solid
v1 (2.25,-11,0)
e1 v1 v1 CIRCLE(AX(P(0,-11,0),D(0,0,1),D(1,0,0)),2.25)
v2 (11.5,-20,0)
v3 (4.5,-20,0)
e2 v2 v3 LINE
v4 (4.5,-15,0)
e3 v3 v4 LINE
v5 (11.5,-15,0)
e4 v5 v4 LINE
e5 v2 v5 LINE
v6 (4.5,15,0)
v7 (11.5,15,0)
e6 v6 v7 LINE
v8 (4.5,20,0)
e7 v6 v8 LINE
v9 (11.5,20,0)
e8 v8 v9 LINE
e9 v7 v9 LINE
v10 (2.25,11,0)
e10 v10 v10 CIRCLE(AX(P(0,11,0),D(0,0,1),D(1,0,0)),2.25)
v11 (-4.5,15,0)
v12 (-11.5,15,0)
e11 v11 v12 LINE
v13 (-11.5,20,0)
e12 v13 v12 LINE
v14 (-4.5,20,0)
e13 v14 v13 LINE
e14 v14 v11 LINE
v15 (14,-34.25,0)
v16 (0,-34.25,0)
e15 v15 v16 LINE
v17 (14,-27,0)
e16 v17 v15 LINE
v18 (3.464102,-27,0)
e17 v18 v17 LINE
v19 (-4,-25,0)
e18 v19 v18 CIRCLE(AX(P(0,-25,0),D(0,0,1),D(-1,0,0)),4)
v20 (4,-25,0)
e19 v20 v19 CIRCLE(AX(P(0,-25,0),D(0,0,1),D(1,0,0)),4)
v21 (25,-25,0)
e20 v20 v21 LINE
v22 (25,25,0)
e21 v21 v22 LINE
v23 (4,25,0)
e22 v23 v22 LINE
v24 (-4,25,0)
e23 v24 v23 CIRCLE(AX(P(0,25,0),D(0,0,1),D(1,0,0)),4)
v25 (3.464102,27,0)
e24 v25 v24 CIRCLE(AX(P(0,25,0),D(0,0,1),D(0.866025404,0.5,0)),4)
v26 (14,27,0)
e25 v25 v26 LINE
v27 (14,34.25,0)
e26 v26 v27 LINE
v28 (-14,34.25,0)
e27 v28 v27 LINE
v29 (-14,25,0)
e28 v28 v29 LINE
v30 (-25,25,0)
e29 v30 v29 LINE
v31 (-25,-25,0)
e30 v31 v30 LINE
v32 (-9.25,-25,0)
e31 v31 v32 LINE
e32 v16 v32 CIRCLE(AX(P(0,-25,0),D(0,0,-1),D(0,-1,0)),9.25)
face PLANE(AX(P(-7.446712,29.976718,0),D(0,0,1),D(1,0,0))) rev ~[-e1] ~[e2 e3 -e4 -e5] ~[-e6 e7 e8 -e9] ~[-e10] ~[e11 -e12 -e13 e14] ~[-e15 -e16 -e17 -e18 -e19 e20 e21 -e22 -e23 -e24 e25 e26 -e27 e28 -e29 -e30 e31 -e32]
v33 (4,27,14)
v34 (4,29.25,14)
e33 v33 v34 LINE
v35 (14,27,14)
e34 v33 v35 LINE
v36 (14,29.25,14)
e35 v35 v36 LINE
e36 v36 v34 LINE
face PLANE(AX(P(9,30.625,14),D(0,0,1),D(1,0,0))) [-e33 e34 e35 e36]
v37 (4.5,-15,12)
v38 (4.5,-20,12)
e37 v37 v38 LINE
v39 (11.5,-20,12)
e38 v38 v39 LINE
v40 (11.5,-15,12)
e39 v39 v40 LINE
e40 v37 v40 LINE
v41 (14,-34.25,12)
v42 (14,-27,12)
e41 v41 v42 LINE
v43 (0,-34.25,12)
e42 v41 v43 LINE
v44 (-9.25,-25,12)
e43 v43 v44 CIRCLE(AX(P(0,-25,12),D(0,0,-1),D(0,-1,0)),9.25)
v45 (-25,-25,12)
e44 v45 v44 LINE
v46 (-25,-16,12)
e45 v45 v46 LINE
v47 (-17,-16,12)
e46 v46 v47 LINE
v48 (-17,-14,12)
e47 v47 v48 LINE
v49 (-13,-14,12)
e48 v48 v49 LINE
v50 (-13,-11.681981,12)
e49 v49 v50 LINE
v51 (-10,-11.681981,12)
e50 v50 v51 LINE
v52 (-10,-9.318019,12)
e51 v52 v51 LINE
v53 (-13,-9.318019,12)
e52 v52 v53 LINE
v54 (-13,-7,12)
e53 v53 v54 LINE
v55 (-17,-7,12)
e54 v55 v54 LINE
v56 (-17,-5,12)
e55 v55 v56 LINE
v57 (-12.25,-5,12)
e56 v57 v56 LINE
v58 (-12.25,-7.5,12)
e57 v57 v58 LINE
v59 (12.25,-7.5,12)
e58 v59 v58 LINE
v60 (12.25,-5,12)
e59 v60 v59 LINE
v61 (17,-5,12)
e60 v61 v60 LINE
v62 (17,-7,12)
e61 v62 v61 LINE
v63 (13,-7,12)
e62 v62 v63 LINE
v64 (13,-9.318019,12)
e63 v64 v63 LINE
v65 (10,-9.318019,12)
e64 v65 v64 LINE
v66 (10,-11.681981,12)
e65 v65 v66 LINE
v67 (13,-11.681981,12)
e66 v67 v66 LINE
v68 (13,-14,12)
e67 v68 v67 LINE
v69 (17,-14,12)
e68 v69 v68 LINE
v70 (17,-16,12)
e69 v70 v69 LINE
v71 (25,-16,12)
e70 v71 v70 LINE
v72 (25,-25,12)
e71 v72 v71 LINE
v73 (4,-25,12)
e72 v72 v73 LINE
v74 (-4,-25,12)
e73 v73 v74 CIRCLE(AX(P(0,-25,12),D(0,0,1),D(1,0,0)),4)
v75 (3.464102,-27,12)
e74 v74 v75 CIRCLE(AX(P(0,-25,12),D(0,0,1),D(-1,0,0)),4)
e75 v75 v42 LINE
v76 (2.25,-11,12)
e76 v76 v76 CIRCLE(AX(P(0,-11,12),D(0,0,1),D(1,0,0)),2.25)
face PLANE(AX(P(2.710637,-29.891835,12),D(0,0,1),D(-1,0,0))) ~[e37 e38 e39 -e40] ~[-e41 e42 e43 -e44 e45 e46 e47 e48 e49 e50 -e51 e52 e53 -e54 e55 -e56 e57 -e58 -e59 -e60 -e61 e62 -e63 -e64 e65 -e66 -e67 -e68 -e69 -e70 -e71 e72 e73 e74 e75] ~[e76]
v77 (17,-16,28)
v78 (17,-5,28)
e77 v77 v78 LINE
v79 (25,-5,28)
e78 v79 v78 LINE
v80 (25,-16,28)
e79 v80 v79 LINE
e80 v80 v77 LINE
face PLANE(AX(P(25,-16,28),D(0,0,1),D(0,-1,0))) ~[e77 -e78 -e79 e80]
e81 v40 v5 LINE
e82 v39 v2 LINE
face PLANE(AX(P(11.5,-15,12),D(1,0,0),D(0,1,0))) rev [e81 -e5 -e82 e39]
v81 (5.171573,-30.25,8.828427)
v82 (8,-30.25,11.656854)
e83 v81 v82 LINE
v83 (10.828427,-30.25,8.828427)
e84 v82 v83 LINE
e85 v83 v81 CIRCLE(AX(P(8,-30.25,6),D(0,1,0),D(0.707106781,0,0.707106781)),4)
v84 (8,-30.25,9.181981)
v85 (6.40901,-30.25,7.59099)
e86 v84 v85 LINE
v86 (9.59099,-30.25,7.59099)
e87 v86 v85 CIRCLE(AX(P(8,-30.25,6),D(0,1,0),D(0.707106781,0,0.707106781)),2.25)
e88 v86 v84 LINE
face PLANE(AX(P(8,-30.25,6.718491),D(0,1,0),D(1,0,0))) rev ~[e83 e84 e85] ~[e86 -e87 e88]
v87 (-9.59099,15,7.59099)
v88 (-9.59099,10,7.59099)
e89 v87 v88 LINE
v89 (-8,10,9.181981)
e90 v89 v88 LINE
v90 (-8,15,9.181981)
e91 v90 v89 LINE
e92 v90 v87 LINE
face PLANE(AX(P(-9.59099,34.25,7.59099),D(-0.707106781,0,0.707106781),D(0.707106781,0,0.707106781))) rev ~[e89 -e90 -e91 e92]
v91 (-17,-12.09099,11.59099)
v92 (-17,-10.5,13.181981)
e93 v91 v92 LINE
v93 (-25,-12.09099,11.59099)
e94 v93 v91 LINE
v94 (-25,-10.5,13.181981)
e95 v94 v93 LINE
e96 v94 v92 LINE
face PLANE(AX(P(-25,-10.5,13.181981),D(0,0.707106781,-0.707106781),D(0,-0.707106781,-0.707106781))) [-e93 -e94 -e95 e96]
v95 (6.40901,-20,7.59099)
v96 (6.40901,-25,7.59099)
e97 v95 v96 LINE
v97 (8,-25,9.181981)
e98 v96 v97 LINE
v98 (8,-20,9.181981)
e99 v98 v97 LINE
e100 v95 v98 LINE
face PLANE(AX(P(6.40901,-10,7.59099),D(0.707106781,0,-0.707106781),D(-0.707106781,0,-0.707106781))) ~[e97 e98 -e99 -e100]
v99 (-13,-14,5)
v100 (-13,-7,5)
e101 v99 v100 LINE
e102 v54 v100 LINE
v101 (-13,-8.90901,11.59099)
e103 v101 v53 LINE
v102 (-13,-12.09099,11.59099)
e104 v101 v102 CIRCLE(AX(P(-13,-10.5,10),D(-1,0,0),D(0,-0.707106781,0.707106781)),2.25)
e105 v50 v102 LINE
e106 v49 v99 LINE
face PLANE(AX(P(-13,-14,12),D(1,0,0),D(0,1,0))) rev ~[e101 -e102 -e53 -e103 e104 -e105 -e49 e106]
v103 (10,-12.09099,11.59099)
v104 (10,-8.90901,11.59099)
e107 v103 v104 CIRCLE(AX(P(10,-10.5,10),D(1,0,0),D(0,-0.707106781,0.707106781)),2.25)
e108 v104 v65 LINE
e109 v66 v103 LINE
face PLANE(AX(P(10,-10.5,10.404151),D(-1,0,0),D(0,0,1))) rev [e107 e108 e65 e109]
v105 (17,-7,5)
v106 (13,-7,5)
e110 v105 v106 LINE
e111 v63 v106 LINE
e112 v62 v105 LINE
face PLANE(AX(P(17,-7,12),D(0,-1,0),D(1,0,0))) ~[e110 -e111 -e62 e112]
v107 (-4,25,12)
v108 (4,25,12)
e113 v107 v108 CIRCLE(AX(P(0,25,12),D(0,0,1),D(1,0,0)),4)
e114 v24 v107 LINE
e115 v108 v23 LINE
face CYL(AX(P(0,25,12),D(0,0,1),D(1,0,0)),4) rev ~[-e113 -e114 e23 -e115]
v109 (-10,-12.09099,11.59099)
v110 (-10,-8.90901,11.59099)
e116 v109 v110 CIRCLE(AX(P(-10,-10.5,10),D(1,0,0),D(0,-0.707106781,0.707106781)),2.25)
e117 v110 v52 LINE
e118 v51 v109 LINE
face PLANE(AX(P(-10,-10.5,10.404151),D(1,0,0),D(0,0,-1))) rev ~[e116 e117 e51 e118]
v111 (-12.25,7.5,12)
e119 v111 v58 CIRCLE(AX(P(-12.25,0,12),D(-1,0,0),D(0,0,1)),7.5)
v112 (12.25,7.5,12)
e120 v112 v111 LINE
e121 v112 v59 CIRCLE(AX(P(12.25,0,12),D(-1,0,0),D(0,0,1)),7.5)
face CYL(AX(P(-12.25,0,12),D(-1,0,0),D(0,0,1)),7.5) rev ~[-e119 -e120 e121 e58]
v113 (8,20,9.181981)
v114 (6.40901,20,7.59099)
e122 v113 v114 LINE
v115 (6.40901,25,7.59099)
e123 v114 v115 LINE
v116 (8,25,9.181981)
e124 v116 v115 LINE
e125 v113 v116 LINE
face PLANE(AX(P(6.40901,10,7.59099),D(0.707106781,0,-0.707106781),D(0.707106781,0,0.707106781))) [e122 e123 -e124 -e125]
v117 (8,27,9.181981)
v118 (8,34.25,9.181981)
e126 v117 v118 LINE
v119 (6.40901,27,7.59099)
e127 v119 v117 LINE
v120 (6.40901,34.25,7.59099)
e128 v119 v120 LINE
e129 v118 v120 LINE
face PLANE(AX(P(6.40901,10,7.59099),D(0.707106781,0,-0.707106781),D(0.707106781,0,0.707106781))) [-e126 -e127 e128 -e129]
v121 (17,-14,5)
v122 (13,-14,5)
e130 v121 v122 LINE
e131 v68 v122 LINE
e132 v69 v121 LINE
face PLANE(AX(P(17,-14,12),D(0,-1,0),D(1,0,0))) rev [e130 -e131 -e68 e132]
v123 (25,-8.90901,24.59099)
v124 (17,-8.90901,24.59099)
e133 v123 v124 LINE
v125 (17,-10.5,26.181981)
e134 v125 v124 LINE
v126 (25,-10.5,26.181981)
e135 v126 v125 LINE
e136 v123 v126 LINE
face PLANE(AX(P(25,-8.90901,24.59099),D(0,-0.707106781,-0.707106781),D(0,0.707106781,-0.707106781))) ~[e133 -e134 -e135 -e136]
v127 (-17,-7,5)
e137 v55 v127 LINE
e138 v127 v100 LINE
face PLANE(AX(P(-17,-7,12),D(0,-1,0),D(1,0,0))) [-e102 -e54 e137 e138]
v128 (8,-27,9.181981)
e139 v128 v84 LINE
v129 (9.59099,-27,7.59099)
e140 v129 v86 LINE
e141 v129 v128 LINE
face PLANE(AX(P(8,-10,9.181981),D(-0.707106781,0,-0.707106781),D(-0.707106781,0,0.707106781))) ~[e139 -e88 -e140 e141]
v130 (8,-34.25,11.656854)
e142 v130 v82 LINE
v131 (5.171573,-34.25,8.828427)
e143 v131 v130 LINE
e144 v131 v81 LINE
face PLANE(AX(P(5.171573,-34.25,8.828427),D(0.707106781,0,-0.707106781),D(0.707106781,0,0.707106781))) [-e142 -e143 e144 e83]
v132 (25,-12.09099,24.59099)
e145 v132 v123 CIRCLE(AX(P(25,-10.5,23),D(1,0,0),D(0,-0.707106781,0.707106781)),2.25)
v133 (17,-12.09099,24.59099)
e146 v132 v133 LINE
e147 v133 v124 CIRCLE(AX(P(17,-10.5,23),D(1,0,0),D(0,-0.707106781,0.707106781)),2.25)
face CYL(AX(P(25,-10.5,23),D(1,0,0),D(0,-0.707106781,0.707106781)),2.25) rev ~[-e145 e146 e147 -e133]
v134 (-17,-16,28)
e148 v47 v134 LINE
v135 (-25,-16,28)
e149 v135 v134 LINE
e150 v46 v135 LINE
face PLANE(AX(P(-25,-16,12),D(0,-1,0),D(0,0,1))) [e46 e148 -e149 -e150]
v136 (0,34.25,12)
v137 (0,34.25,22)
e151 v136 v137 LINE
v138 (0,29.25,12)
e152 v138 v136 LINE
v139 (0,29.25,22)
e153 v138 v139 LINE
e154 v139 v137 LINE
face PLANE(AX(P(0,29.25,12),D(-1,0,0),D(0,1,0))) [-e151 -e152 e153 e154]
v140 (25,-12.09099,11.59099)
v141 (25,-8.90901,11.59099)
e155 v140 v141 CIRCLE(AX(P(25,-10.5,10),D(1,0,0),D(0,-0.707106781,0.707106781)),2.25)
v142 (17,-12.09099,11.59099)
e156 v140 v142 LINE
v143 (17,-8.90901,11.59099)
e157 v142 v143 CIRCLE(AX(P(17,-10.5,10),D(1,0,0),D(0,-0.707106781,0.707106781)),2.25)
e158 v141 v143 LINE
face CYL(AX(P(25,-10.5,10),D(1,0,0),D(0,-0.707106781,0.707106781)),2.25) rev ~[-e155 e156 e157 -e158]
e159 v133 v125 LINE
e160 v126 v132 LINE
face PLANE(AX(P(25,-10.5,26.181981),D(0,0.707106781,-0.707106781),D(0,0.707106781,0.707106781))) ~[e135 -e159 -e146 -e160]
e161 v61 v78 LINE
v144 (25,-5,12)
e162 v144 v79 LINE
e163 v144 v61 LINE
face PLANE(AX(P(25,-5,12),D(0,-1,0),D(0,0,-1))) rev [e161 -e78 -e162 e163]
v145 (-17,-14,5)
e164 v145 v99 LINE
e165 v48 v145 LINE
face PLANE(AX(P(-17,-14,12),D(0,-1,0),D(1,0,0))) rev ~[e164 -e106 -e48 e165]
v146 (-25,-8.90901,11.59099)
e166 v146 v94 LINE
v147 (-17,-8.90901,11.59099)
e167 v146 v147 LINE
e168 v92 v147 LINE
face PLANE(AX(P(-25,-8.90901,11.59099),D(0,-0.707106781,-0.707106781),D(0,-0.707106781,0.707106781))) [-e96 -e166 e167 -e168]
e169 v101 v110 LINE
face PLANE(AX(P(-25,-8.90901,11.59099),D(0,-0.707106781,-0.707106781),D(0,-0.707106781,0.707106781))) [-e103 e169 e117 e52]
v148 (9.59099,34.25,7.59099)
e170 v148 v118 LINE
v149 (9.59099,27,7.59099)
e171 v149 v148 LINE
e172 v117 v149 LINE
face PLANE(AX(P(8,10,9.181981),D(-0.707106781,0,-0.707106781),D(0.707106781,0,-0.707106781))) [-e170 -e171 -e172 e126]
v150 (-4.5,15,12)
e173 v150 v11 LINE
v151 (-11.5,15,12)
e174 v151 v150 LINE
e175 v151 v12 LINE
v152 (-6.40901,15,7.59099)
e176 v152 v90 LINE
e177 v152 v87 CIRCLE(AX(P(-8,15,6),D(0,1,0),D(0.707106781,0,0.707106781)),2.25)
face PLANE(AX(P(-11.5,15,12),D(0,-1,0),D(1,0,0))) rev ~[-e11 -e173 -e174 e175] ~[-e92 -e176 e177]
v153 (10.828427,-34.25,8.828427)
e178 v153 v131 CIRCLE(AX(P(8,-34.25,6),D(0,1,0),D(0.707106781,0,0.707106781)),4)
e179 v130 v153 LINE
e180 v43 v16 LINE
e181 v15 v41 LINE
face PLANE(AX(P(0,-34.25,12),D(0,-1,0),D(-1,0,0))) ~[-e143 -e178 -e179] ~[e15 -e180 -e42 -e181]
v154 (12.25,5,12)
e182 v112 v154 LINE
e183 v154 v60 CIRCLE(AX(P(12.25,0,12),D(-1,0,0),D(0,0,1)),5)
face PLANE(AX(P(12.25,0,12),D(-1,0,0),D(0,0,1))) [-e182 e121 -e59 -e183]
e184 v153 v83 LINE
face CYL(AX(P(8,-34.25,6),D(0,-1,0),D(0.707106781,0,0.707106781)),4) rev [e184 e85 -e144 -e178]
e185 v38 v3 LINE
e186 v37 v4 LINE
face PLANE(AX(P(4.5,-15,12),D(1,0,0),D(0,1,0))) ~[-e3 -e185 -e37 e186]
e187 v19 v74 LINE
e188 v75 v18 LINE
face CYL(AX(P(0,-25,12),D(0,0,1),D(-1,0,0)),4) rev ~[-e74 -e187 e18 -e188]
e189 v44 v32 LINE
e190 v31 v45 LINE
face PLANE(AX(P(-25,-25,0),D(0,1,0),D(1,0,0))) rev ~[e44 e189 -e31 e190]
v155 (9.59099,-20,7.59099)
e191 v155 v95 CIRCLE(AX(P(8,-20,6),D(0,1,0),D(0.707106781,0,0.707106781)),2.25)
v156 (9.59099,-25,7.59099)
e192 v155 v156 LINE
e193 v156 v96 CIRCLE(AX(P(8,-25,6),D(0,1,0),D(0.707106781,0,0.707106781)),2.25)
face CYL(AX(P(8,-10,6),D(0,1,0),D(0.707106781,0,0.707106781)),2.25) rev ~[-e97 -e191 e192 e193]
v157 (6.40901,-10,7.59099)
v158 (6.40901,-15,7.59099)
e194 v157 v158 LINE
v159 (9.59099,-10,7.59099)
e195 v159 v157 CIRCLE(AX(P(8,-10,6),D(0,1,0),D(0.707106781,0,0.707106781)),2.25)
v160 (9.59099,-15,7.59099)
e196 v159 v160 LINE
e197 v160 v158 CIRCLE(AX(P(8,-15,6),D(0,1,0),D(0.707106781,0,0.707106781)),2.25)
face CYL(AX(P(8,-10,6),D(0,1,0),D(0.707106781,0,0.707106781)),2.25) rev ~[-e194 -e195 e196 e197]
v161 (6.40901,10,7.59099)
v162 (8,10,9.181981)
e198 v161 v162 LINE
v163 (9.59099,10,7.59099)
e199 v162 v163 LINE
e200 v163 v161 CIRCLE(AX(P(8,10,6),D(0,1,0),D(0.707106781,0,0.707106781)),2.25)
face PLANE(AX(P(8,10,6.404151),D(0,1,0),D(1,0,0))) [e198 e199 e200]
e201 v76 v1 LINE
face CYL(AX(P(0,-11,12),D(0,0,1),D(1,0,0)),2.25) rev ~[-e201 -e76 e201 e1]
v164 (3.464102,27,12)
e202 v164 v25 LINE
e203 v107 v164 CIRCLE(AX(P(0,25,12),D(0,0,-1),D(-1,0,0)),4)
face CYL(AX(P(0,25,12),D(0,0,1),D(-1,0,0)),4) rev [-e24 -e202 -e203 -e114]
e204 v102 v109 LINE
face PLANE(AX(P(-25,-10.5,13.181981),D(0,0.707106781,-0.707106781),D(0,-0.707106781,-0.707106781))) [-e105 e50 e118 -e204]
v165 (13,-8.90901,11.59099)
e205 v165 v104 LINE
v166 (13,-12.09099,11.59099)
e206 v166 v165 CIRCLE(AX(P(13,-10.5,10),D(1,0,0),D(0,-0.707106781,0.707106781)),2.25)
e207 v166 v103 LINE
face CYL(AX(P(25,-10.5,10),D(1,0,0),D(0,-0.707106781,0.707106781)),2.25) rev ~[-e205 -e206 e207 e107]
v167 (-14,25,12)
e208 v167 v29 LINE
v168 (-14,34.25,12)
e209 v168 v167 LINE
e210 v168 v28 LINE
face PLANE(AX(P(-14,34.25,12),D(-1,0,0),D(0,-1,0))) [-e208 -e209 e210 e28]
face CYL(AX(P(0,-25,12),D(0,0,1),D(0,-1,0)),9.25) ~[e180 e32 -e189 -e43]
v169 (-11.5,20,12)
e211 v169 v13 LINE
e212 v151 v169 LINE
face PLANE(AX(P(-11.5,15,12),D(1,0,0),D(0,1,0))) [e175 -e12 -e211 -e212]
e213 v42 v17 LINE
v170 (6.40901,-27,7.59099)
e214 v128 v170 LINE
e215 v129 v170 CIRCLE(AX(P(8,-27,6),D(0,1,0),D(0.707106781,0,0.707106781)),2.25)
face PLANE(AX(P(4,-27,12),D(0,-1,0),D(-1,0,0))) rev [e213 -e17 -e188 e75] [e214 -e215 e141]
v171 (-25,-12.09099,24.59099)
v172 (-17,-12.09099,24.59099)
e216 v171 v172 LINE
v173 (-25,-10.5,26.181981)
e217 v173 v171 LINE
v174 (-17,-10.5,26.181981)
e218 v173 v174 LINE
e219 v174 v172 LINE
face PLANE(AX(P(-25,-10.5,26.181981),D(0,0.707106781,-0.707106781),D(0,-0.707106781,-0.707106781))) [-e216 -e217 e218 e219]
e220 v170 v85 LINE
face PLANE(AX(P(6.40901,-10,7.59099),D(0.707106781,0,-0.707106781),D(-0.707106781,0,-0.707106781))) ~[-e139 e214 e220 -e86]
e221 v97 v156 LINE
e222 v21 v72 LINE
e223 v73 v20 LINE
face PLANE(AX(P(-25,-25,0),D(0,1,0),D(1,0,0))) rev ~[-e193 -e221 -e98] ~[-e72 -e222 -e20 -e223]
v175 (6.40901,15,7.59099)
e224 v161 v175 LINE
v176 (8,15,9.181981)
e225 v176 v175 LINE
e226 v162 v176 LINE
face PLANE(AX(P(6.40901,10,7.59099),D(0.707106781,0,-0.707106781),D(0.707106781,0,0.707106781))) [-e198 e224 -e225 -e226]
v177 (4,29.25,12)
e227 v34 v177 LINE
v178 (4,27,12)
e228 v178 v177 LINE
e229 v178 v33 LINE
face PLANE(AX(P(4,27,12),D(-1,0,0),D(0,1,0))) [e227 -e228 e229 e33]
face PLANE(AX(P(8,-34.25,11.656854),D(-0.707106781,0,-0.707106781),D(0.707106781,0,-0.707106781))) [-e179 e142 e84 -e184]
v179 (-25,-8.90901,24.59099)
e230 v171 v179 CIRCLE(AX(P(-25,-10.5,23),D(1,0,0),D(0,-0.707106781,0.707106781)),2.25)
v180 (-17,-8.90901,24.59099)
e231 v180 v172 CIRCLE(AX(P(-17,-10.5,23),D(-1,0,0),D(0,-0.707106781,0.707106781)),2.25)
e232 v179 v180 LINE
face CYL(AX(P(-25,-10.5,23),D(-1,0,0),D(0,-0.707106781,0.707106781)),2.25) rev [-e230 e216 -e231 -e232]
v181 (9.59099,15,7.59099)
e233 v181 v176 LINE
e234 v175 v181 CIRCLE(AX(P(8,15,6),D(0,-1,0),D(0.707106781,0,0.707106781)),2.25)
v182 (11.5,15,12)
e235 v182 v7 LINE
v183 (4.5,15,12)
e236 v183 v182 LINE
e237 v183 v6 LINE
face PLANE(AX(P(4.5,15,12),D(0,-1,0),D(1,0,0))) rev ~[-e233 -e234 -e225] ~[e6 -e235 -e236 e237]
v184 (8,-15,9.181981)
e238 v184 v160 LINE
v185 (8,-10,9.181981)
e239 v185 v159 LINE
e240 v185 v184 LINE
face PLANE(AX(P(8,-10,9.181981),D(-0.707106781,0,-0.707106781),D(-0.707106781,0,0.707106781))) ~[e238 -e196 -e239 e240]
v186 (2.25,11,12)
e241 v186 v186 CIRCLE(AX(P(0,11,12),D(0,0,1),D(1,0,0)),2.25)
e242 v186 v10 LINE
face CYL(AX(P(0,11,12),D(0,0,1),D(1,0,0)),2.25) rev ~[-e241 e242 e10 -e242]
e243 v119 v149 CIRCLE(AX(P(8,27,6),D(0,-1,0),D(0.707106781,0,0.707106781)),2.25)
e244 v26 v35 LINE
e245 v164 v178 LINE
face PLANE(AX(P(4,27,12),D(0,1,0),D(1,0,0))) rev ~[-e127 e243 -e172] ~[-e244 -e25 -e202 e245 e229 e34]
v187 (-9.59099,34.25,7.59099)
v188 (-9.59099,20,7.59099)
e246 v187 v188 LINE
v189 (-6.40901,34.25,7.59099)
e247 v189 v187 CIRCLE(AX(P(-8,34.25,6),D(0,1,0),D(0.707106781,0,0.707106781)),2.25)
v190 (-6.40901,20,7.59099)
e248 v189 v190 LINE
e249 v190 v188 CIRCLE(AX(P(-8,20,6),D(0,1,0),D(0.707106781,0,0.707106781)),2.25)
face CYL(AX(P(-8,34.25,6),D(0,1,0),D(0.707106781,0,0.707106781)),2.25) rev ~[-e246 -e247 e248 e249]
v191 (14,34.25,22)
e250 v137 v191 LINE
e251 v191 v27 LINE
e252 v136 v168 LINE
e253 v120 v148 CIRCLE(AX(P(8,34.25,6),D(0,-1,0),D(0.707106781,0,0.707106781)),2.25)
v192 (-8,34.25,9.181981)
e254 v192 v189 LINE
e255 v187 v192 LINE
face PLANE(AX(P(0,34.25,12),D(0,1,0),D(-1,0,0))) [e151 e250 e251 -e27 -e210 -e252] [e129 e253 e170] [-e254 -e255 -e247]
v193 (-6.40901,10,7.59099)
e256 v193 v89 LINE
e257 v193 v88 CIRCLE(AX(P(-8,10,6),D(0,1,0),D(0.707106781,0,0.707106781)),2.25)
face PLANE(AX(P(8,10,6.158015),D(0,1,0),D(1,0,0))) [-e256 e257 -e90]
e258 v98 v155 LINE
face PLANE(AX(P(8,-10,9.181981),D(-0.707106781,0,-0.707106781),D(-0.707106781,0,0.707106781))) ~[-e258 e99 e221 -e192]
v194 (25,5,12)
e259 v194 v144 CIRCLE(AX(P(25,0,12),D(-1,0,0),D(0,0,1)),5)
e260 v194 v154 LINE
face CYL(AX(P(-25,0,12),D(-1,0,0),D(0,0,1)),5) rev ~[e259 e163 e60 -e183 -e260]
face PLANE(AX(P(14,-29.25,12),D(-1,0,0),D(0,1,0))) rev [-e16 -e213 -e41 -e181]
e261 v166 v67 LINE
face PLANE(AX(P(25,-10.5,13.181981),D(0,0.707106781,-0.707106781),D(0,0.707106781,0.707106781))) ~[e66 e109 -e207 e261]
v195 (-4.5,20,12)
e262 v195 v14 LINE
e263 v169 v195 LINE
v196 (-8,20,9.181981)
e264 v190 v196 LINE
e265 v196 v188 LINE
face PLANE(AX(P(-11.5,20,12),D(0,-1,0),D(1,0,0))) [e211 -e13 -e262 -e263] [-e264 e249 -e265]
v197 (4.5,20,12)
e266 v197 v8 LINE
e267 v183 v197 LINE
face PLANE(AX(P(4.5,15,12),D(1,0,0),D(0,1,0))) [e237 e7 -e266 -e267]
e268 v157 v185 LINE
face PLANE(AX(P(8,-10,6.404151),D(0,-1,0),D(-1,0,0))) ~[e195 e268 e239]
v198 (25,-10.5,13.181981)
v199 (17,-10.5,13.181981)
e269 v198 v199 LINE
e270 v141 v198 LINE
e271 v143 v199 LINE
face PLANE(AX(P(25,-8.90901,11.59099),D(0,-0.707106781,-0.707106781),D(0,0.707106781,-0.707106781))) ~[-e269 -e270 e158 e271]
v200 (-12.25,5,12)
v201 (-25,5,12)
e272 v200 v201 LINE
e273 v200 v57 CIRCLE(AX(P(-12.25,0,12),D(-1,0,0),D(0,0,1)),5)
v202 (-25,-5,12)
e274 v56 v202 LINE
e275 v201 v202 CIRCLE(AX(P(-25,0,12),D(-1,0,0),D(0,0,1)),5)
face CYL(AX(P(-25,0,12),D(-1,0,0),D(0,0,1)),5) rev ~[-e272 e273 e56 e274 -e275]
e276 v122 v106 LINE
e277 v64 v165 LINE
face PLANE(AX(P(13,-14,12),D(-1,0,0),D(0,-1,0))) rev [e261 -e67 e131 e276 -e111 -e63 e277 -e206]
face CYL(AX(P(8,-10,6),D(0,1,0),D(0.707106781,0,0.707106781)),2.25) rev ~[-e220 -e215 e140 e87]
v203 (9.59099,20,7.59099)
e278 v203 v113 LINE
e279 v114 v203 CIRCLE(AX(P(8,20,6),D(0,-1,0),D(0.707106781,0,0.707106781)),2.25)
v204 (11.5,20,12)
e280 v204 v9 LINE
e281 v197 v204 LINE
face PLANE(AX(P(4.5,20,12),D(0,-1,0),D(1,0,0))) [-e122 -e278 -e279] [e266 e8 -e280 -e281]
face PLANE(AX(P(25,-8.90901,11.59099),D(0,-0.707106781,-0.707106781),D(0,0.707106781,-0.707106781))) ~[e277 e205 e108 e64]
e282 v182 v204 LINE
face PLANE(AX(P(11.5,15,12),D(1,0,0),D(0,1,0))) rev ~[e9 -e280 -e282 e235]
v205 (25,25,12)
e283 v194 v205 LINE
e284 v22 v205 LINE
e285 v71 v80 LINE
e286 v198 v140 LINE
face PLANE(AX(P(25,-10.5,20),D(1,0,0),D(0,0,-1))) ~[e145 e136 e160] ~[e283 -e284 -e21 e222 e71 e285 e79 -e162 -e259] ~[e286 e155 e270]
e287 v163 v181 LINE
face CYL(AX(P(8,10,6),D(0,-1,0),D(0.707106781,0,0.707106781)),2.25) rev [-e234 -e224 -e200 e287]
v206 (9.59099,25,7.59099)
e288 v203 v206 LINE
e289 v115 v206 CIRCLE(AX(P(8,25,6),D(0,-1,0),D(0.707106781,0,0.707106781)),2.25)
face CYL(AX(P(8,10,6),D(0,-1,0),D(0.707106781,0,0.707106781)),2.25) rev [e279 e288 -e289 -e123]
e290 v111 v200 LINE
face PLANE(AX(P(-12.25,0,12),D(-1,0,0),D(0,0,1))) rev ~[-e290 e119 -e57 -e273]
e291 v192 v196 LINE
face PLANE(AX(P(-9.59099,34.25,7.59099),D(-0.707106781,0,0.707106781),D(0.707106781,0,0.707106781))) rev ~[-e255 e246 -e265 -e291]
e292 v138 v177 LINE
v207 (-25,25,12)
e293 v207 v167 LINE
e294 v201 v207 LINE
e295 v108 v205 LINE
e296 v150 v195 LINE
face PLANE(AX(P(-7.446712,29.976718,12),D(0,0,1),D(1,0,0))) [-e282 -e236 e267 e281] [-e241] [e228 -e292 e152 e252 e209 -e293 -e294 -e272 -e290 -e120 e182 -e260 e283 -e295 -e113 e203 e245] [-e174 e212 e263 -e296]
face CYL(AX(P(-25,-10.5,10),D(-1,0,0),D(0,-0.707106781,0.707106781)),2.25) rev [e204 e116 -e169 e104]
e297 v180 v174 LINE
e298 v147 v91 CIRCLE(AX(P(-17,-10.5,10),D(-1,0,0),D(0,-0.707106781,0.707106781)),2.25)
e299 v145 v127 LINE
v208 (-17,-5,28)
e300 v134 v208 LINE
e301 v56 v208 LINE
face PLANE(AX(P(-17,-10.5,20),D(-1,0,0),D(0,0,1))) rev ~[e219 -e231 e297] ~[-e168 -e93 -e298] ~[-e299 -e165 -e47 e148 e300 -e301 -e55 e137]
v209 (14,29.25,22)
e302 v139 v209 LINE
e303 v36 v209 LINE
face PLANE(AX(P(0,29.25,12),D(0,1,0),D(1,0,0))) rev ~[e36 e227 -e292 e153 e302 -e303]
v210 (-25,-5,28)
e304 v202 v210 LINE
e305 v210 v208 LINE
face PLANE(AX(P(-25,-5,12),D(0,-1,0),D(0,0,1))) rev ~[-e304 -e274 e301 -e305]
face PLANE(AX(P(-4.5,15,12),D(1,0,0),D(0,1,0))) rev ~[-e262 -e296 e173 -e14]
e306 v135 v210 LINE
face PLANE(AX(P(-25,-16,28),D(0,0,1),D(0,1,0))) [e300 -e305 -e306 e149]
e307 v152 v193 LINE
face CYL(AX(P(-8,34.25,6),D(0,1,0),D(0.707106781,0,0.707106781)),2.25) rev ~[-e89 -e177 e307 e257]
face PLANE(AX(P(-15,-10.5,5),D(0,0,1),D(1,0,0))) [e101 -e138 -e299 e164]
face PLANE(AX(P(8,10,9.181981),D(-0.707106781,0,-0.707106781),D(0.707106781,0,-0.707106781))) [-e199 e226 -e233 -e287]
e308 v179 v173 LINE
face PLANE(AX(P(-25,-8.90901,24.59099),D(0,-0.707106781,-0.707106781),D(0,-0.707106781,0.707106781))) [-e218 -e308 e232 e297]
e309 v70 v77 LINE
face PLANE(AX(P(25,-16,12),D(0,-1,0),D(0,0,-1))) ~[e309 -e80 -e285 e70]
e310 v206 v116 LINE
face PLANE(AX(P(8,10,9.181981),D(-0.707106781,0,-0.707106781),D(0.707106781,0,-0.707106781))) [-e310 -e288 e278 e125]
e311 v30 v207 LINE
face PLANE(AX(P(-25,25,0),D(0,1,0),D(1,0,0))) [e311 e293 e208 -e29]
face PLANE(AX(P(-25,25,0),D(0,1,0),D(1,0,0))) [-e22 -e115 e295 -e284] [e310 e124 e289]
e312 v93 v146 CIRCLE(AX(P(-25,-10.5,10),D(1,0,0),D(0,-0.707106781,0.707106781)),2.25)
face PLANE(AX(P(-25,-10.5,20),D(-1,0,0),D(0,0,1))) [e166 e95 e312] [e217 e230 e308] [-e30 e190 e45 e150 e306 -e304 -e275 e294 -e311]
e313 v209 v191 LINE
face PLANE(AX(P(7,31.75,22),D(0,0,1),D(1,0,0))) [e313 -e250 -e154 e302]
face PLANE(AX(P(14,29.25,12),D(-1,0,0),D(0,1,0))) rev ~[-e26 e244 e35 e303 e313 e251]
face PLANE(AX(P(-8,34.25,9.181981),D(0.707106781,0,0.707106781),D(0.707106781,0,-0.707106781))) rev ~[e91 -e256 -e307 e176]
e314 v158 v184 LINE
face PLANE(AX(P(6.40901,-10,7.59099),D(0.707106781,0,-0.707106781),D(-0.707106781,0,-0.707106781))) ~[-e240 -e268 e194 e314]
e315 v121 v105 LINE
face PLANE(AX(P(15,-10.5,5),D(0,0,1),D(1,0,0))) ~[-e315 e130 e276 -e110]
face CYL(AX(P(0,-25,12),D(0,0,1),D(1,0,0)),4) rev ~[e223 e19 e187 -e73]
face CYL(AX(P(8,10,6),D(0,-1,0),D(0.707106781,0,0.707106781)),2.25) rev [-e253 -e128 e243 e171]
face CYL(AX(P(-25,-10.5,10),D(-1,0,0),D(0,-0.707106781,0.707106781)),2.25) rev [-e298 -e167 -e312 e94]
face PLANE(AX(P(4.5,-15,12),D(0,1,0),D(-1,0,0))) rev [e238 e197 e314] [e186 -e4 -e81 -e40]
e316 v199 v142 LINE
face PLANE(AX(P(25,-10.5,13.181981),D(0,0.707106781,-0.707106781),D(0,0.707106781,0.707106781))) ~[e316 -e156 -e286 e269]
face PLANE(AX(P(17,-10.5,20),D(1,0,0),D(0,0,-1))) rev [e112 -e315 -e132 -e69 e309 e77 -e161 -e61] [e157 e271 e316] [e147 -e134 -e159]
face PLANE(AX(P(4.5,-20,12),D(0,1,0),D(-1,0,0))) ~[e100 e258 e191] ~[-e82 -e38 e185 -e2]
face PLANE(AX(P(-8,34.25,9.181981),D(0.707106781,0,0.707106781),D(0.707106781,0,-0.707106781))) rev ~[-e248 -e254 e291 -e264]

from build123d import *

# Parameters (mm, degrees)
SKETCH1_W           = 50
SKETCH1_H           = 50
BOSS_EXTRUDE1_DEPTH = 12
SKETCH2_R           = 5
CUT_EXTRUDE1_DEPTH  = 58.175169436
CUT_EXTRUDE2_START  = -12.75
SKETCH3_R           = 7.5
CUT_EXTRUDE2_DEPTH  = 24.5
SKETCH4_R           = 2.25
CUT_EXTRUDE3_DEPTH  = 38.336309405
SKETCH5_R           = 4
CUT_EXTRUDE4_DEPTH  = 38.336309405
BOSS_EXTRUDE3_DEPTH = 12
CUT_EXTRUDE5_START  = -15
CUT_EXTRUDE5_DEPTH  = 73.175169436
SKETCH7_W           = 7
SKETCH7_H           = 5
CUT_EXTRUDE6_DEPTH  = 45.068838197
SKETCH13_W          = 10
SKETCH13_H          = 7.25
BOSS_EXTRUDE4_DEPTH = 2
SKETCH14_W          = 14
SKETCH14_H          = 5
BOSS_EXTRUDE5_DEPTH = 10
SKETCH8_W           = 16
SKETCH8_H           = 11
BOSS_EXTRUDE2_DEPTH = 8
CUT_EXTRUDE7_DEPTH  = 15
SKETCH10_W          = 4
SKETCH10_H          = 7
CUT_EXTRUDE8_DEPTH  = 7
CUT_EXTRUDE9_DEPTH  = 4
SKETCH15_W          = 7
SKETCH15_H          = 5
CUT_EXTRUDE10_DEPTH = 46.321766294
BOSS_EXTRUDE6_DEPTH = 12
CUT_EXTRUDE11_REACH = 80.11
SKETCH18_W          = 10
SKETCH18_H          = 18.25
CUT_EXTRUDE12_DEPTH = 59.975100678


with BuildPart() as part:
    # Sketch1 → Boss-Extrude1 (new body)
    with BuildSketch(Plane.XY):
        Rectangle(SKETCH1_W, SKETCH1_H)
    extrude(amount=BOSS_EXTRUDE1_DEPTH)

    # Sketch2 → Cut-Extrude1 (cut, through all)
    with BuildSketch(Plane.ZY.offset(25)):
        with Locations((12, 0)):
            Circle(SKETCH2_R)
    extrude(amount=-CUT_EXTRUDE1_DEPTH, mode=Mode.SUBTRACT)

    # Sketch3 → Cut-Extrude2 (cut)
    with BuildSketch(Plane.ZY.offset(25).offset(CUT_EXTRUDE2_START)):
        with Locations((12, 0)):
            Circle(SKETCH3_R)
    extrude(amount=-CUT_EXTRUDE2_DEPTH, mode=Mode.SUBTRACT)

    # Sketch4 → Cut-Extrude3 (cut, through all)
    with BuildSketch(Plane.XY.offset(12)):
        with Locations((0, 11)):
            Circle(SKETCH4_R)
        with Locations((0, -11)):
            Circle(SKETCH4_R)
    extrude(amount=-CUT_EXTRUDE3_DEPTH, mode=Mode.SUBTRACT)

    # Sketch5 → Cut-Extrude4 (cut, through all)
    with BuildSketch(Plane.XY.offset(12)):
        with Locations((0, 25)):
            Circle(SKETCH5_R)
        with Locations((0, -25)):
            Circle(SKETCH5_R)
    extrude(amount=-CUT_EXTRUDE4_DEPTH, mode=Mode.SUBTRACT)

    # Sketch11 → Boss-Extrude3 (add)
    with BuildSketch(Plane.XY.offset(12)):
        with BuildLine():
            Line((3.464101615, 27), (14, 27))
            Line((14, 27), (14, 34.25))
            Line((14, 34.25), (0, 34.25))
            ThreePointArc((0, 34.25), (-6.540737726, 31.540737726), (-9.25, 25))
            Line((-9.25, 25), (-4, 25))
            ThreePointArc((-4, 25), (-1.03527618, 28.863703305), (3.464101615, 27))
        make_face()
    boss_extrude3 = extrude(amount=-BOSS_EXTRUDE3_DEPTH)

    # Sketch6 → Cut-Extrude5 (cut)
    with BuildSketch(Plane(origin=(0, 25, 0), x_dir=(1, 0, 0), z_dir=(0, 1, 0)).offset(CUT_EXTRUDE5_START)):
        with BuildLine():
            Line((6.409009742, -7.590990258), (8, -9.181980515))
            Line((8, -9.181980515), (9.590990258, -7.590990258))
            ThreePointArc((9.590990258, -7.590990258), (8, -3.75), (6.409009742, -7.590990258))
        make_face()
    cut_extrude5 = extrude(amount=CUT_EXTRUDE5_DEPTH, mode=Mode.SUBTRACT)

    # Sketch7 → Cut-Extrude6 (cut, through all)
    with BuildSketch(Plane.XY.offset(12)):
        with Locations((8, 17.5)):
            Rectangle(SKETCH7_W, SKETCH7_H)
    cut_extrude6 = extrude(amount=-CUT_EXTRUDE6_DEPTH, mode=Mode.SUBTRACT)

    # Sketch13 → Boss-Extrude4 (add)
    with BuildSketch(Plane.XY.offset(12)):
        with Locations((9, 30.625)):
            Rectangle(SKETCH13_W, SKETCH13_H)
    boss_extrude4 = extrude(amount=BOSS_EXTRUDE4_DEPTH)

    # Sketch14 → Boss-Extrude5 (add)
    with BuildSketch(Plane.XY.offset(12)):
        with Locations((7, 31.75)):
            Rectangle(SKETCH14_W, SKETCH14_H)
    boss_extrude5 = extrude(amount=BOSS_EXTRUDE5_DEPTH)

    # Mirror1: Boss-Extrude3, Cut-Extrude5, Cut-Extrude6, Boss-Extrude4, Boss-Extrude5 across plane
    add(boss_extrude3.mirror(Plane.ZX))
    add(cut_extrude5.mirror(Plane.ZX), mode=Mode.SUBTRACT)
    add(cut_extrude6.mirror(Plane.ZX), mode=Mode.SUBTRACT)
    add(boss_extrude4.mirror(Plane.ZX))
    add(boss_extrude5.mirror(Plane.ZX))

    # Sketch8 → Boss-Extrude2 (add)
    with BuildSketch(Plane.ZY.offset(25)):
        with Locations((20, -10.5)):
            Rectangle(SKETCH8_W, SKETCH8_H)
    boss_extrude2 = extrude(amount=-BOSS_EXTRUDE2_DEPTH)

    # Sketch9 → Cut-Extrude7 (cut)
    with BuildSketch(Plane.ZY.offset(25)):
        with BuildLine():
            Line((11.590990258, -8.909009742), (13.181980515, -10.5))
            Line((13.181980515, -10.5), (11.590990258, -12.090990258))
            ThreePointArc((11.590990258, -12.090990258), (7.75, -10.5), (11.590990258, -8.909009742))
        make_face()
        with BuildLine():
            Line((24.590990258, -8.909009742), (26.181980515, -10.5))
            Line((26.181980515, -10.5), (24.590990258, -12.090990258))
            ThreePointArc((24.590990258, -12.090990258), (20.75, -10.5), (24.590990258, -8.909009742))
        make_face()
    cut_extrude7 = extrude(amount=-CUT_EXTRUDE7_DEPTH, mode=Mode.SUBTRACT)

    # Sketch10 → Cut-Extrude8 (cut)
    with BuildSketch(Plane.XY.offset(12)):
        with Locations((-15, -10.5)):
            Rectangle(SKETCH10_W, SKETCH10_H)
    cut_extrude8 = extrude(amount=-CUT_EXTRUDE8_DEPTH, mode=Mode.SUBTRACT)

    # Mirror2: Boss-Extrude2, Cut-Extrude7, Cut-Extrude8 across plane
    add(boss_extrude2.mirror(Plane(origin=(0, 0, 0), x_dir=(0, 0, 1), z_dir=(1, 0, 0))))
    add(cut_extrude7.mirror(Plane(origin=(0, 0, 0), x_dir=(0, 0, 1), z_dir=(1, 0, 0))), mode=Mode.SUBTRACT)
    add(cut_extrude8.mirror(Plane(origin=(0, 0, 0), x_dir=(0, 0, 1), z_dir=(1, 0, 0))), mode=Mode.SUBTRACT)

    # Sketch12 → Cut-Extrude9 (cut)
    with BuildSketch(Plane(origin=(0, -34.25, 0), x_dir=(1, 0, 0), z_dir=(0, 1, 0))):
        with BuildLine():
            Line((5.171572875, -8.828427125), (8, -11.656854249))
            Line((8, -11.656854249), (10.828427125, -8.828427125))
            ThreePointArc((10.828427125, -8.828427125), (8, -2), (5.171572875, -8.828427125))
        make_face()
    extrude(amount=CUT_EXTRUDE9_DEPTH, mode=Mode.SUBTRACT)

    # Sketch15 → Cut-Extrude10 (cut, through all)
    with BuildSketch(Plane.XY.offset(12)):
        with Locations((-8, 17.5)):
            Rectangle(SKETCH15_W, SKETCH15_H)
    extrude(amount=-CUT_EXTRUDE10_DEPTH, mode=Mode.SUBTRACT)

    # Sketch16 → Boss-Extrude6 (add)
    with BuildSketch(Plane.XY.offset(12)):
        with BuildLine():
            Line((-14, 25), (-4, 25))
            ThreePointArc((-4, 25), (-2.828427125, 27.828427125), (0, 29))
            Line((0, 29), (0, 34.25))
            Line((0, 34.25), (-14, 34.25))
            Line((-14, 34.25), (-14, 25))
        make_face()
    extrude(amount=-BOSS_EXTRUDE6_DEPTH)

    # Cut-Extrude11: up to this face of the body (flat: up to its plane)
    cut_extrude11_end = Plane(part.part.faces().sort_by_distance((8, 10, 6.158015302))[0])
    # Sketch17 → Cut-Extrude11 (cut, up to the picked face)
    with BuildSketch(Plane(origin=(0, 34.25, 0), x_dir=(1, 0, 0), z_dir=(0, 1, 0)), mode=Mode.PRIVATE) as cut_extrude11_sk1:
        with BuildLine():
            Line((-9.590990258, -7.590990258), (-8, -9.181980515))
            Line((-8, -9.181980515), (-6.409009742, -7.590990258))
            ThreePointArc((-6.409009742, -7.590990258), (-8, -3.75), (-9.590990258, -7.590990258))
        make_face()
    cut_extrude11_tool1 = split(extrude(cut_extrude11_sk1.sketch, amount=-CUT_EXTRUDE11_REACH, mode=Mode.PRIVATE), bisect_by=cut_extrude11_end, keep=Keep.BOTH, mode=Mode.PRIVATE)
    add(cut_extrude11_tool1.solids().sort_by(Axis((-8, 34.25, 6.158015), (0, -1, 0)))[0], mode=Mode.SUBTRACT)

    # Sketch18 → Cut-Extrude12 (cut, through all)
    with BuildSketch(Plane(origin=(14, 0, 0), x_dir=(0, 0, -1), z_dir=(1, 0, 0))):
        with Locations((-17, -25.125)):
            Rectangle(SKETCH18_W, SKETCH18_H)
    extrude(amount=-CUT_EXTRUDE12_DEPTH, mode=Mode.SUBTRACT)


solid = part.part
